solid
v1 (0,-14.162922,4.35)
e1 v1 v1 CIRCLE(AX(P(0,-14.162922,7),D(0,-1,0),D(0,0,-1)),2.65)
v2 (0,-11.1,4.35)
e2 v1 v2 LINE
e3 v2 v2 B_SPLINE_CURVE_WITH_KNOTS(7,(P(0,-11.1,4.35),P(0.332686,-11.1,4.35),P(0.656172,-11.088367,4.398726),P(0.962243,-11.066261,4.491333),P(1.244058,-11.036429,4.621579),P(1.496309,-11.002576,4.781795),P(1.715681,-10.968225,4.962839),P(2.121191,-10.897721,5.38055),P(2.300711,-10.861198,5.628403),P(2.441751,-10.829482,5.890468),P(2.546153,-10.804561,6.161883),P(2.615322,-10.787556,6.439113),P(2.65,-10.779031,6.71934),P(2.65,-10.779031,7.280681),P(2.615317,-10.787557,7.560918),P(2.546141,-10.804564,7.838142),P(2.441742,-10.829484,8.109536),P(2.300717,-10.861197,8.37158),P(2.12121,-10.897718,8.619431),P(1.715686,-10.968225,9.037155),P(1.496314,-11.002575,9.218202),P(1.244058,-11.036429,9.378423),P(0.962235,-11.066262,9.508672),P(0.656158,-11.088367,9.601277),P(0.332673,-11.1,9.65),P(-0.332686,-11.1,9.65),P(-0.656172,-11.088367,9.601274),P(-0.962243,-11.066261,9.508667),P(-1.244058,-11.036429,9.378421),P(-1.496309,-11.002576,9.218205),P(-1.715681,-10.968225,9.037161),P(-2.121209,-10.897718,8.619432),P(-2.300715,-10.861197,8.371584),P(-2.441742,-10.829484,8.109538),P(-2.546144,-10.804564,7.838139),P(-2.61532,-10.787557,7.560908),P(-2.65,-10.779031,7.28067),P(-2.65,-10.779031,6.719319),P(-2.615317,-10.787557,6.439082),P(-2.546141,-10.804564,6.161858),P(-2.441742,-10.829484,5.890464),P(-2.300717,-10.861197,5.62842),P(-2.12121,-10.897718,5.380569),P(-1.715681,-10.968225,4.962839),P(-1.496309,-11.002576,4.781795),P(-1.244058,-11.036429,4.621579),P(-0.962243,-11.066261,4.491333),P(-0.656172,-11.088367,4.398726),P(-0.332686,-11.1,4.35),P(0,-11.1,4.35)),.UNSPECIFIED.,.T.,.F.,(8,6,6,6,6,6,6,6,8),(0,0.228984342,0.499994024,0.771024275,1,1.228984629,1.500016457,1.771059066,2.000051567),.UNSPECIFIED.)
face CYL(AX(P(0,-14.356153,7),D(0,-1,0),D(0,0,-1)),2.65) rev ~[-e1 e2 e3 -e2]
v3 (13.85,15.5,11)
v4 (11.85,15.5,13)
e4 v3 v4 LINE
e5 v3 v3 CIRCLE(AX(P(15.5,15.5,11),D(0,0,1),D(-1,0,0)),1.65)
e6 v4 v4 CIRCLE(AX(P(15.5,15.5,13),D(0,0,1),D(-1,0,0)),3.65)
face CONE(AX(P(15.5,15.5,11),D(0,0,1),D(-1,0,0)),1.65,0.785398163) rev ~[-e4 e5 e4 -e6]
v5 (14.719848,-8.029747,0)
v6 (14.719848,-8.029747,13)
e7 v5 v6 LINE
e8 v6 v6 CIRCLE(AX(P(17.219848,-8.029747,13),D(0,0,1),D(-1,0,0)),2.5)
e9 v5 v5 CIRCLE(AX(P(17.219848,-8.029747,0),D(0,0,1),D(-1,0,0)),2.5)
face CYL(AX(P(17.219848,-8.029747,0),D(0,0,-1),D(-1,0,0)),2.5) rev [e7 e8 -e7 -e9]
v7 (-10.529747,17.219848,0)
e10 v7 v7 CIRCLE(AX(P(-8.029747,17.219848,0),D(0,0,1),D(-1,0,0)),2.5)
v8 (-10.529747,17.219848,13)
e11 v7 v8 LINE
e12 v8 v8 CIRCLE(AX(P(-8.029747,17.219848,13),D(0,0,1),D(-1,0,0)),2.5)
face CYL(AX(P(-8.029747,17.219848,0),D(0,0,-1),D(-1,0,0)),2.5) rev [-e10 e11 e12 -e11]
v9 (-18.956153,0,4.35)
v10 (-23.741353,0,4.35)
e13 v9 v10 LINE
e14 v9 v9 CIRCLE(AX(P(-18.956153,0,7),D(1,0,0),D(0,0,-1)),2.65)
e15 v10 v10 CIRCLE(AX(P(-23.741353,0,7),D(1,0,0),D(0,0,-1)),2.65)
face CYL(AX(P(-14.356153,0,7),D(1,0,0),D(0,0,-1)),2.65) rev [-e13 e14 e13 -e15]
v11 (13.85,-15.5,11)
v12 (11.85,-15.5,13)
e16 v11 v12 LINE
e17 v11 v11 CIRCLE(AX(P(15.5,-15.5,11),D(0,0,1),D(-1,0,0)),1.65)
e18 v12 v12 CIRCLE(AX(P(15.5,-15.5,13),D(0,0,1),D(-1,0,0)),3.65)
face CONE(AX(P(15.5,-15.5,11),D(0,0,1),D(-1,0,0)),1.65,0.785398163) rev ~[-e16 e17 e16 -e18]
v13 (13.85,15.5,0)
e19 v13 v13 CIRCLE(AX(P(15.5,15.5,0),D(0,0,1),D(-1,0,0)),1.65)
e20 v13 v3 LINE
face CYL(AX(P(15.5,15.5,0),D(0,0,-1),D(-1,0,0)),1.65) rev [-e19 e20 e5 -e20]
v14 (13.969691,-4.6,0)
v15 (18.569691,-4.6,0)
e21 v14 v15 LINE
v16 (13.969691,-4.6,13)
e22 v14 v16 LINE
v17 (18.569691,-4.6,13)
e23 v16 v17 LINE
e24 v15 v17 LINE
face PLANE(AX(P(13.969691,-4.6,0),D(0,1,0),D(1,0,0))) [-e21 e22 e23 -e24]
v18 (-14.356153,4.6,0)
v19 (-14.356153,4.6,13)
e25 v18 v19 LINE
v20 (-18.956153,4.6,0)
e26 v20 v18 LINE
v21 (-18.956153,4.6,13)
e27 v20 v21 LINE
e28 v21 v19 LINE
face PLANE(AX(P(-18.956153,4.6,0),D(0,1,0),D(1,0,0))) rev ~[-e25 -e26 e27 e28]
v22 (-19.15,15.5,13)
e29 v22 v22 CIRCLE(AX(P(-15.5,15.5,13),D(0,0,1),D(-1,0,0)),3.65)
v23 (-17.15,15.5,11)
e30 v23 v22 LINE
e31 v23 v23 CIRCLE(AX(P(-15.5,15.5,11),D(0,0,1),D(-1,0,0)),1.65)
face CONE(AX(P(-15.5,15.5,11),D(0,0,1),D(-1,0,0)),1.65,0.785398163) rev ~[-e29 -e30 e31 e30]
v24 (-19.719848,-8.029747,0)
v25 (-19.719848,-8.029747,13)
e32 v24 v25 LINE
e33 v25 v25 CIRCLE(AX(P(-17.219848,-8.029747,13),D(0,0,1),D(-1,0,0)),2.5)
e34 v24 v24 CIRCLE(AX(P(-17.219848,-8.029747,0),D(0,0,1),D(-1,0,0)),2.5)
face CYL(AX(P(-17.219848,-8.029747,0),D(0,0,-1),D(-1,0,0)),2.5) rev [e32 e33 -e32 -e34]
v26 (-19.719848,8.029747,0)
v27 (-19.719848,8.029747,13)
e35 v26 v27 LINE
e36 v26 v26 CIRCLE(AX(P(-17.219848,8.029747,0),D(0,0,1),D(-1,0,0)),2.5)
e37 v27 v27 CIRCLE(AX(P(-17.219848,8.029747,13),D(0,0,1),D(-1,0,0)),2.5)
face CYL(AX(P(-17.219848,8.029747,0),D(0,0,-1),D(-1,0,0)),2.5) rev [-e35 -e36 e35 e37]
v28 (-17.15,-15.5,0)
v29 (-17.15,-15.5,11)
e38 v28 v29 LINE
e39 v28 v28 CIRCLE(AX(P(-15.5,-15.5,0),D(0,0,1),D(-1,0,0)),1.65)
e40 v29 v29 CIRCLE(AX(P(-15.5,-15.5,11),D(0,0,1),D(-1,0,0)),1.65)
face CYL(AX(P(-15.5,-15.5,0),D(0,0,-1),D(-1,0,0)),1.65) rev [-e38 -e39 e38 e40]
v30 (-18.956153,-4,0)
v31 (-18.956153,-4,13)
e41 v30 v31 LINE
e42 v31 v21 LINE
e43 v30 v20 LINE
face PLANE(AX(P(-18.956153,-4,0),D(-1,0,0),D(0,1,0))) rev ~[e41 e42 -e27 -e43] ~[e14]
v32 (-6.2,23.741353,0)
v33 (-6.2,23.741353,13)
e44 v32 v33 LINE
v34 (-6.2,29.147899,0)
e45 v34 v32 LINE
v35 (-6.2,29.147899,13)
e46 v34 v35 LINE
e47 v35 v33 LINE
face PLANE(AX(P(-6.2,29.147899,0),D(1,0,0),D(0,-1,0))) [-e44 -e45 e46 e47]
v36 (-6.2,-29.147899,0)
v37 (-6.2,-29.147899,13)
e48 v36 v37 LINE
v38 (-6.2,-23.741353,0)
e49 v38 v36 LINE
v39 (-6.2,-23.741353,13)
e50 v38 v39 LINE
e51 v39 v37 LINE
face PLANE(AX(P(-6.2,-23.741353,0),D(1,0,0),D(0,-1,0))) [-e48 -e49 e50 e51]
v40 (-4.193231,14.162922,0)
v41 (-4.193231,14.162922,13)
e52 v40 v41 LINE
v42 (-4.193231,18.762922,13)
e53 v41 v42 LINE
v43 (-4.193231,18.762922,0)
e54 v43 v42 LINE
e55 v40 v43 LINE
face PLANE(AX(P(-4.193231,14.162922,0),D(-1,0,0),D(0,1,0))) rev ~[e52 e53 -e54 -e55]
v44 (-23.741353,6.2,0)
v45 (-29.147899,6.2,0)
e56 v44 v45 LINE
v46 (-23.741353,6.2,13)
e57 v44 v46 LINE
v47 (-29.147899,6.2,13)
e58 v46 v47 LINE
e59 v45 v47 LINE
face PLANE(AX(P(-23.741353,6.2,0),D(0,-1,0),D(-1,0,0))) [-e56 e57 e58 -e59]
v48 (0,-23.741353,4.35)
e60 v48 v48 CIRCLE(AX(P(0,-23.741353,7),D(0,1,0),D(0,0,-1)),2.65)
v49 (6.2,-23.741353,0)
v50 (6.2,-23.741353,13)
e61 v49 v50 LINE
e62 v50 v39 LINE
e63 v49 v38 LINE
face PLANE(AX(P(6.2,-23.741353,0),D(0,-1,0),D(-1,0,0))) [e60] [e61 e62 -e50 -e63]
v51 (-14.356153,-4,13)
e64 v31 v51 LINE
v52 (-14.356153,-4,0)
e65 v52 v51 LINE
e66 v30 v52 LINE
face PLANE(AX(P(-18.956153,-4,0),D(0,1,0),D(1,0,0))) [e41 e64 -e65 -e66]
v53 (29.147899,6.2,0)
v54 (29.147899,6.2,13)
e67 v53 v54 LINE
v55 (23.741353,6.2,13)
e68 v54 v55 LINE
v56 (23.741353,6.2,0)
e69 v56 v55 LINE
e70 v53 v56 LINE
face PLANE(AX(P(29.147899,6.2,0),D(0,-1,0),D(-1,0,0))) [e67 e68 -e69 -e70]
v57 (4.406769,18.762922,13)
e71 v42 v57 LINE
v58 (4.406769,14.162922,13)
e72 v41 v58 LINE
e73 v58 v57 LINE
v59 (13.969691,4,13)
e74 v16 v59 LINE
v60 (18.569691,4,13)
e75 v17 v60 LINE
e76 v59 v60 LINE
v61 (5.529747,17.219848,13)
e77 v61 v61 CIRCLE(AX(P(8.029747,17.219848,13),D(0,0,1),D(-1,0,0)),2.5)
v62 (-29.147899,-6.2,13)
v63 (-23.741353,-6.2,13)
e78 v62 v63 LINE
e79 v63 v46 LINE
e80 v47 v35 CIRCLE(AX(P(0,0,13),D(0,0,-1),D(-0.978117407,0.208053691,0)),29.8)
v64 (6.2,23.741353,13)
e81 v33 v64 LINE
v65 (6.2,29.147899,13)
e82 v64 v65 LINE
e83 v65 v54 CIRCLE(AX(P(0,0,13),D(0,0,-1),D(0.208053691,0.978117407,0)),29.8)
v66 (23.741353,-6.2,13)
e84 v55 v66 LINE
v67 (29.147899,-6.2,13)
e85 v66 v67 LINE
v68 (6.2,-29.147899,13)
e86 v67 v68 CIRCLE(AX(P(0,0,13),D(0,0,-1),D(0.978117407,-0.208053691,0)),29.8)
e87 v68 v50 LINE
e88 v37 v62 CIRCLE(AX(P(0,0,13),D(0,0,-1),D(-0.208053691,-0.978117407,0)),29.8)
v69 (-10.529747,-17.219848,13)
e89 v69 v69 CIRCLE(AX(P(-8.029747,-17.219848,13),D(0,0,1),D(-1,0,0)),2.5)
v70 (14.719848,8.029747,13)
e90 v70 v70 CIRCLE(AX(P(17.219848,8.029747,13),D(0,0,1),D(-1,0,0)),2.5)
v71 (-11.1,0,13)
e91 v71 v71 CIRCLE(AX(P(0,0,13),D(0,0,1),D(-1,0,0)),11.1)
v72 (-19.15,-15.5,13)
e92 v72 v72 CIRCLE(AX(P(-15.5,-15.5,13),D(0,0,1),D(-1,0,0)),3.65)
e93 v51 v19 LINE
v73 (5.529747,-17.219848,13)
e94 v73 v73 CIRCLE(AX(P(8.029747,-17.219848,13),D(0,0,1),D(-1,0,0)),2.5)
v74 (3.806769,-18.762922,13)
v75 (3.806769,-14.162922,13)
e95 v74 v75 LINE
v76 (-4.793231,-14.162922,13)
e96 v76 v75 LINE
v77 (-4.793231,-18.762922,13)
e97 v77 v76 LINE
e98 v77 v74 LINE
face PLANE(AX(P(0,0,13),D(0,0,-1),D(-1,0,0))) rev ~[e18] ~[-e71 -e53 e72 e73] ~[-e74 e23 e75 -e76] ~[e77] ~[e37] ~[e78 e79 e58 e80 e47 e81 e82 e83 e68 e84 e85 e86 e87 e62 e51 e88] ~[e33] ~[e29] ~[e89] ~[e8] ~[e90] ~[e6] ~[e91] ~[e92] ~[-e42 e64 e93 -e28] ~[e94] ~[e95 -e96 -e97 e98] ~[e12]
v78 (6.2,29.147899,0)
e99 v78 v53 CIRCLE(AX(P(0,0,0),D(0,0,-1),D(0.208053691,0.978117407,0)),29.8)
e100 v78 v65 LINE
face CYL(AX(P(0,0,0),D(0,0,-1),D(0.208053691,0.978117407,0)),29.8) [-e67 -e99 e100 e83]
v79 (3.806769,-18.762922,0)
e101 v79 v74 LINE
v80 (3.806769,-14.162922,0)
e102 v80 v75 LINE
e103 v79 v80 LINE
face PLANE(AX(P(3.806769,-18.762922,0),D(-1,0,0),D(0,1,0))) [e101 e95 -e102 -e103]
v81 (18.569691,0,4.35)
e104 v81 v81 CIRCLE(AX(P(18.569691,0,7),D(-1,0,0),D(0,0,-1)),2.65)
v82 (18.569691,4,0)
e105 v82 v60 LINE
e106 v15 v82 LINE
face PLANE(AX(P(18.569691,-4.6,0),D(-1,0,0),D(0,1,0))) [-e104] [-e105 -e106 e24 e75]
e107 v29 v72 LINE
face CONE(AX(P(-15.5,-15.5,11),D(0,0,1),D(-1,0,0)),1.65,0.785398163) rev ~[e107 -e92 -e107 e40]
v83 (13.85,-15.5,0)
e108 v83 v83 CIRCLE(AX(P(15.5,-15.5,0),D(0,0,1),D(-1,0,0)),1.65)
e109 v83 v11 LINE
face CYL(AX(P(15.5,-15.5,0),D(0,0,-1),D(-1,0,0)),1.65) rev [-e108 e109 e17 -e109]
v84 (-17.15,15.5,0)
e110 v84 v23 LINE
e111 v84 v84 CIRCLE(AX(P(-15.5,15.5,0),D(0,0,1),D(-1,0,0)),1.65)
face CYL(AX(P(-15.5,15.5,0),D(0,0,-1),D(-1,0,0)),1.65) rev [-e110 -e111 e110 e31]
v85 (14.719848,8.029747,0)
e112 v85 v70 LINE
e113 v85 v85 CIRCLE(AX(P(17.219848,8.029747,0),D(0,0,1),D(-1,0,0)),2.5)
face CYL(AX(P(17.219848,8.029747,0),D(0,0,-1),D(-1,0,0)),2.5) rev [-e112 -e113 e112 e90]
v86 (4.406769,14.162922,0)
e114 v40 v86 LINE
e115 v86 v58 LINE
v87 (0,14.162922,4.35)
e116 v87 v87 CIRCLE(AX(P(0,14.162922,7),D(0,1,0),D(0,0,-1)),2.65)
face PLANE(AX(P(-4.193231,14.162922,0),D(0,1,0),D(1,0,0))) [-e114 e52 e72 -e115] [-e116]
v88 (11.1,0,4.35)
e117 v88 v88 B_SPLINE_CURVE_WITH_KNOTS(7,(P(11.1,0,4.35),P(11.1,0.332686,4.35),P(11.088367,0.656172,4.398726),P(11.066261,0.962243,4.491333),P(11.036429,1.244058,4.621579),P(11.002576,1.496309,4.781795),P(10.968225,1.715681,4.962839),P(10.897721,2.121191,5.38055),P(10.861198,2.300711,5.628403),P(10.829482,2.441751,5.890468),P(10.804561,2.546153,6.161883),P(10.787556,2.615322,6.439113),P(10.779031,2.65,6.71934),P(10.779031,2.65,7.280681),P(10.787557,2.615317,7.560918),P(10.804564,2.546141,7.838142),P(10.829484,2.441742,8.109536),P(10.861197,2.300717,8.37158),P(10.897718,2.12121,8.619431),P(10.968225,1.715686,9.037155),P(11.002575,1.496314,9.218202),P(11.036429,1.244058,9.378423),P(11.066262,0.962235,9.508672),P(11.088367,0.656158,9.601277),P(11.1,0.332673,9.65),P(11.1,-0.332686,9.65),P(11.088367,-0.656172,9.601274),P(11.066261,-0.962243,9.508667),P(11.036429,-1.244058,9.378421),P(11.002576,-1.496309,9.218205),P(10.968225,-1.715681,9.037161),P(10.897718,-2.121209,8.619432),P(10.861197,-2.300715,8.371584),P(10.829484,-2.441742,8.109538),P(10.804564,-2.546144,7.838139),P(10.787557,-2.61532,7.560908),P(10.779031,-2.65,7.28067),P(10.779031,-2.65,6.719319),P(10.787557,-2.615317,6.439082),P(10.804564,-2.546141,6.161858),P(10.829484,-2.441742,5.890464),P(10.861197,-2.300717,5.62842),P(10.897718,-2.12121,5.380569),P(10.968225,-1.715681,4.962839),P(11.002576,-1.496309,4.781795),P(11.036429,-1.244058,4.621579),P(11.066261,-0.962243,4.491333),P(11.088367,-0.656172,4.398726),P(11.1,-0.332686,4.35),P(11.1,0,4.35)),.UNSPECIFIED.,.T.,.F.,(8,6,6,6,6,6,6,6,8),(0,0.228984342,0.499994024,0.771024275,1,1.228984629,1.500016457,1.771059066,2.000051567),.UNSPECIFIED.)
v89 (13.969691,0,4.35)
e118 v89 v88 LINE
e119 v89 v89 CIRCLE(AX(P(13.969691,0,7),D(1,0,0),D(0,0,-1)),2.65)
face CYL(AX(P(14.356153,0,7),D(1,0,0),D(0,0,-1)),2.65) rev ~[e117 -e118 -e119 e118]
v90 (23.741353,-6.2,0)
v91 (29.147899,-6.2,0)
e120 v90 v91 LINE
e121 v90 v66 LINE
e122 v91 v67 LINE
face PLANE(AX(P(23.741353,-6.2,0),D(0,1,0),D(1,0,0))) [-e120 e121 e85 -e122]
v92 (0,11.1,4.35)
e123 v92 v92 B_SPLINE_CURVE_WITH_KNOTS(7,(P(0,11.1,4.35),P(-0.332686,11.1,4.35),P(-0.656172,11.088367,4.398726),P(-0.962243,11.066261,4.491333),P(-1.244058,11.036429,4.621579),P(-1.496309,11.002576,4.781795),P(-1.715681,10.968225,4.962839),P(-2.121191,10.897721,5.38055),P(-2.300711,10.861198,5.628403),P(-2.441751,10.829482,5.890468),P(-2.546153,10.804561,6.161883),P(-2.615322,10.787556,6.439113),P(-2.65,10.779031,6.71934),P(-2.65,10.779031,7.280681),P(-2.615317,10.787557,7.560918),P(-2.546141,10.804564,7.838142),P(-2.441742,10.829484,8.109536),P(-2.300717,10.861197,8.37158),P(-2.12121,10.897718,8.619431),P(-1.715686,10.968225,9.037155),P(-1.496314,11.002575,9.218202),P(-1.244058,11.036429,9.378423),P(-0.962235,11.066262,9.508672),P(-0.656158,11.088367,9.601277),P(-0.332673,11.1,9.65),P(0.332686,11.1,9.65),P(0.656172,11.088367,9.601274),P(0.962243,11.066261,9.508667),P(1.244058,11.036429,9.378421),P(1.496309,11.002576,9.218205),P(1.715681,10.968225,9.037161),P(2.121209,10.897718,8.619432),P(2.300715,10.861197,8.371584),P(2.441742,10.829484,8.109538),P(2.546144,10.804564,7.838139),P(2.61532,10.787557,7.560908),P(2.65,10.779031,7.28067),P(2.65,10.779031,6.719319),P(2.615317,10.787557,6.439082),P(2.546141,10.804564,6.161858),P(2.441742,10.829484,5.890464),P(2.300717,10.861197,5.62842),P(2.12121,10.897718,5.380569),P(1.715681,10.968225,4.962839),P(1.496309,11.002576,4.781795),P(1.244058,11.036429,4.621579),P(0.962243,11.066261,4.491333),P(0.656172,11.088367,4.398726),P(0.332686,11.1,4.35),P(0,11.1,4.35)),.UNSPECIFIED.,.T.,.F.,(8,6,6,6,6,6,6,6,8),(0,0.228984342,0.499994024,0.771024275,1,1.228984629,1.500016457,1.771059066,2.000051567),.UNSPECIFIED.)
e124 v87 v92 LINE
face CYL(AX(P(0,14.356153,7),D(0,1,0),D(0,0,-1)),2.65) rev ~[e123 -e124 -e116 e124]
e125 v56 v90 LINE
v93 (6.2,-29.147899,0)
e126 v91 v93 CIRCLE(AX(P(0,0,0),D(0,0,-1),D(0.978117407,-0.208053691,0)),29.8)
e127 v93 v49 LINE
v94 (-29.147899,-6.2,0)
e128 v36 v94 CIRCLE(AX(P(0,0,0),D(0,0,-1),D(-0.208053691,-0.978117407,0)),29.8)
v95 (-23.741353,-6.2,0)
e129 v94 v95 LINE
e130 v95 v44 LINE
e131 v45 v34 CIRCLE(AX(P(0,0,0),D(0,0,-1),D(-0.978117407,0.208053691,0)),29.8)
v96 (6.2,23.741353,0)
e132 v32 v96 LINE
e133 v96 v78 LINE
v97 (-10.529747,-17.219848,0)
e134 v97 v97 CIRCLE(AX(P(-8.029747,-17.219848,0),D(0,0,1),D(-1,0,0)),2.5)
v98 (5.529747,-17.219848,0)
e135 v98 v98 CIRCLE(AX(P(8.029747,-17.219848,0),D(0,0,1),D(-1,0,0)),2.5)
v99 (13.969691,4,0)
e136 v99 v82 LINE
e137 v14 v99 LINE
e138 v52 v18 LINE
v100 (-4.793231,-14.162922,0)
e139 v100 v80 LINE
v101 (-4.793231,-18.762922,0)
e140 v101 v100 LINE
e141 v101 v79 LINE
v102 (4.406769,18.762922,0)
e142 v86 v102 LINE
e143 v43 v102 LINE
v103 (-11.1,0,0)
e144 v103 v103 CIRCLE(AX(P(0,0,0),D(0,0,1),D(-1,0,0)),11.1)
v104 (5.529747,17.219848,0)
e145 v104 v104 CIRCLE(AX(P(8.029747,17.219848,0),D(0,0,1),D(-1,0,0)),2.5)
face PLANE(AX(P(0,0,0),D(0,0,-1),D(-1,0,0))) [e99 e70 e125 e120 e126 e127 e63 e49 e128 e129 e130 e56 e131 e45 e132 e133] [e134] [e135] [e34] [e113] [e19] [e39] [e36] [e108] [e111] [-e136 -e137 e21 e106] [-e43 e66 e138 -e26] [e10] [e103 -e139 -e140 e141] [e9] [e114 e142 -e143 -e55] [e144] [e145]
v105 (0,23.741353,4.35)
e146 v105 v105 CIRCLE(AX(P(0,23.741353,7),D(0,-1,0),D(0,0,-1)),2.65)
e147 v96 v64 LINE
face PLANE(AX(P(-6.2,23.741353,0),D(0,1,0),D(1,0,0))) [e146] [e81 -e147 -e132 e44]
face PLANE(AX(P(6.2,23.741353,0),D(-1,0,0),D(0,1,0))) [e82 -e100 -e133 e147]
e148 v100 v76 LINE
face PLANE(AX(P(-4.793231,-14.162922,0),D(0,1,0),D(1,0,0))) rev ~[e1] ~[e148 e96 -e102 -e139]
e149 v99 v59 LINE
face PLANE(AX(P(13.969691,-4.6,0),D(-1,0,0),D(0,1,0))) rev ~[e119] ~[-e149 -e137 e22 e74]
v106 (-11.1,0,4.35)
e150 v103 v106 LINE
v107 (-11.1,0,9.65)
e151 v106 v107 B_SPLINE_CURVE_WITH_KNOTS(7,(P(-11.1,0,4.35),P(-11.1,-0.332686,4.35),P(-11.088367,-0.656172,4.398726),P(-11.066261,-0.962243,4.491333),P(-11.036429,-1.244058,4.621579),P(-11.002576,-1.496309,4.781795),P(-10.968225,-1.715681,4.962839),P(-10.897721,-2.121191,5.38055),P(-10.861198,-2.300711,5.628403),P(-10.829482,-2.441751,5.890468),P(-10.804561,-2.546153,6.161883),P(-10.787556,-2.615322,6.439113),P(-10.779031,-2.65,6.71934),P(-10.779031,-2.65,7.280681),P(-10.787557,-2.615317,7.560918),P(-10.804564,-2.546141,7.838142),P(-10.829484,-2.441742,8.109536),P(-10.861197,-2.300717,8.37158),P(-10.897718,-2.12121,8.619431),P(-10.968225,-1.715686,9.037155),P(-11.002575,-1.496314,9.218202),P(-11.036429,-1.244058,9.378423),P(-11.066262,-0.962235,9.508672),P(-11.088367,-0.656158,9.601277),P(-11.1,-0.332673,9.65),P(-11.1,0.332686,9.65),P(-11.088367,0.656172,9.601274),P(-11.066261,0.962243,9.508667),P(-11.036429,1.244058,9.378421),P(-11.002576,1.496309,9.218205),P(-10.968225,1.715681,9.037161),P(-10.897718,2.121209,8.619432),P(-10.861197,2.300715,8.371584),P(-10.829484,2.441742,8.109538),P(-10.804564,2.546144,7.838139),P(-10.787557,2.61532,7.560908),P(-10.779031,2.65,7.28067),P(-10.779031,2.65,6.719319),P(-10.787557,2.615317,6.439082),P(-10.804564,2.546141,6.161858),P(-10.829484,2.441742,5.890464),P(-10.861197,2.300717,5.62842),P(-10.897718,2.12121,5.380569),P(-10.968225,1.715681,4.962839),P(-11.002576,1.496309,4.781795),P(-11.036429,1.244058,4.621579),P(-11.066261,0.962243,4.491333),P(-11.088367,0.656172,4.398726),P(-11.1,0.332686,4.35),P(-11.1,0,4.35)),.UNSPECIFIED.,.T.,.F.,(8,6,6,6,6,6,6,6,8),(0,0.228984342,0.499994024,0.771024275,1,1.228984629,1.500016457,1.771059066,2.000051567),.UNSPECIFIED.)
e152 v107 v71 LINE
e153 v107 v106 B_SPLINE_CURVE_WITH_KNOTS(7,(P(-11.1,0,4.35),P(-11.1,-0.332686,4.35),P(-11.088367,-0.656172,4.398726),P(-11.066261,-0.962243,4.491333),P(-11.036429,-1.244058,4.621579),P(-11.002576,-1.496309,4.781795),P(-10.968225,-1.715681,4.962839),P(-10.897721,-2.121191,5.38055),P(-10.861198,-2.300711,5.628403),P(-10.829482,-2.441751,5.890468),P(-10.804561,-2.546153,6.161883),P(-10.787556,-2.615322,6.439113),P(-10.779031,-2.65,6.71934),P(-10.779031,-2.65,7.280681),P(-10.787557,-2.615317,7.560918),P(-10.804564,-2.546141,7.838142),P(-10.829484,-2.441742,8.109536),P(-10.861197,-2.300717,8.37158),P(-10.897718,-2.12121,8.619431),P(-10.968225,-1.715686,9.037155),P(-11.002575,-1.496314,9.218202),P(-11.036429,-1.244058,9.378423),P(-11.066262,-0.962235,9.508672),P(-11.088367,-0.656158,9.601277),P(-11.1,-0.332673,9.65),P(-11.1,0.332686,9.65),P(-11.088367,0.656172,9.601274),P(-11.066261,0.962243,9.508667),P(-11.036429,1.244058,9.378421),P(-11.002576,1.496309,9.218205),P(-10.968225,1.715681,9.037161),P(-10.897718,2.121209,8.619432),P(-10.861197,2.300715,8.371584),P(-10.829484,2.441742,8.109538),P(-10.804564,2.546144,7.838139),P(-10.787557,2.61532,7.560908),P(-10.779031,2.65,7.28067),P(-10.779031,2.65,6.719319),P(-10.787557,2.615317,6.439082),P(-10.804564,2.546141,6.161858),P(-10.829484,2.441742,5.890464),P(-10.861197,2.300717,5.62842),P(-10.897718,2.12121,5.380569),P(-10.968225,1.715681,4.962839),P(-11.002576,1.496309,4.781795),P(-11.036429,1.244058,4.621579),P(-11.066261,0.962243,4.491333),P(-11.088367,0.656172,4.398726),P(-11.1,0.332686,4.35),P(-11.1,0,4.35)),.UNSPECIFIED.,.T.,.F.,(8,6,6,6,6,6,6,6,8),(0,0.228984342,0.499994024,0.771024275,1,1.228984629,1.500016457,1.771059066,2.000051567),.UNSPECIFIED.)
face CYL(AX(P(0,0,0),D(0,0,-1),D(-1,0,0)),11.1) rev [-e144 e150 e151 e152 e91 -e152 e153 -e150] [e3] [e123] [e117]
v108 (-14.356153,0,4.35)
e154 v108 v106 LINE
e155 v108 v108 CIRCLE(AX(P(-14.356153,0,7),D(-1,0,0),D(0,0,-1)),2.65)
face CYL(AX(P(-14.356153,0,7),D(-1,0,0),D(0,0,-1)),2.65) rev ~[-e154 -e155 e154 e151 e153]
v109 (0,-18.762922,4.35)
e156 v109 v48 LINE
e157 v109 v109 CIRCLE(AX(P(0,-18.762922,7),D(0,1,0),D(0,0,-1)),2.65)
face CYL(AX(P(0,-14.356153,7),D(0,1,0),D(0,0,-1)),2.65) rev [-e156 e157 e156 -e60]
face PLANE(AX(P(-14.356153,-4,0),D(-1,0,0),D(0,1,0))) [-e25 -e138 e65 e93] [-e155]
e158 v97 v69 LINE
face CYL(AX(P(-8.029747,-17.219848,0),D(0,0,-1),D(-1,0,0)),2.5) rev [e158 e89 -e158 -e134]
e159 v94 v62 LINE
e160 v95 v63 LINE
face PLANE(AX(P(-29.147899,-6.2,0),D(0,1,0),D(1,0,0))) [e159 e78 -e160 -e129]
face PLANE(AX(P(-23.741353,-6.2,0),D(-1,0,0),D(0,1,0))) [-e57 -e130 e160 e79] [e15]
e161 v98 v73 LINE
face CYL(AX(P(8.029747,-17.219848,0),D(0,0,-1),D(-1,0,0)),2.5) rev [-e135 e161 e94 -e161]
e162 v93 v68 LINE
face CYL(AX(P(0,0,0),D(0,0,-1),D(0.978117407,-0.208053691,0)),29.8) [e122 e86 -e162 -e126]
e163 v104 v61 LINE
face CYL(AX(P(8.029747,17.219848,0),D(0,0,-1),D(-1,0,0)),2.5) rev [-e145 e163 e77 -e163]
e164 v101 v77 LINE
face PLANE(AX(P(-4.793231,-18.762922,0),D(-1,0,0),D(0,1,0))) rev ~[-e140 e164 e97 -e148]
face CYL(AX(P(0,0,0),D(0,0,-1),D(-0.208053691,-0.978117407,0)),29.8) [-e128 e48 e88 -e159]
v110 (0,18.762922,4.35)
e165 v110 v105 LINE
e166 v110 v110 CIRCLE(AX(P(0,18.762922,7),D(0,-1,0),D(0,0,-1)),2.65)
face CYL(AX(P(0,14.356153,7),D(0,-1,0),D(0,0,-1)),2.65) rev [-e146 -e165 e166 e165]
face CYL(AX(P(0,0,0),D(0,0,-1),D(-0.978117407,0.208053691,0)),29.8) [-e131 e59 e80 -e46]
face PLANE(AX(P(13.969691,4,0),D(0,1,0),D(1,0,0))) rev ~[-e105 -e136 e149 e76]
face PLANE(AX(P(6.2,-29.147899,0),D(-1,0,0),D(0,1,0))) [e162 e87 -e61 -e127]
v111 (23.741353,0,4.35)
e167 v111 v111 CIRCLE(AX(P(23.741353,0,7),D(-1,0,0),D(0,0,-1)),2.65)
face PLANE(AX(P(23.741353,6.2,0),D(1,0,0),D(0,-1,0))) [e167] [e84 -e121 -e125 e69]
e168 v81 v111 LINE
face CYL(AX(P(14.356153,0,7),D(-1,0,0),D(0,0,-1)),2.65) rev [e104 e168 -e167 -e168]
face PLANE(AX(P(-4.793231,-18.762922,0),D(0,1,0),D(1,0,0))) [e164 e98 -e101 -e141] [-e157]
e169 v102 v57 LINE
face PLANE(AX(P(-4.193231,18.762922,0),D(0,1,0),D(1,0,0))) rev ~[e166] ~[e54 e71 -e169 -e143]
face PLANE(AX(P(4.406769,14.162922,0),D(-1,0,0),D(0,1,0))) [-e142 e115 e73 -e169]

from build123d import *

# Parameters (mm, degrees)
ESQUISSE1_R                         = 11.1
ESQUISSE1_R_2                       = 1.65
ESQUISSE1_R_3                       = 2.5
ESQUISSE1_W                         = 4.6
ESQUISSE1_H                         = 8.6
ESQUISSE1_W_2                       = 8.6
ESQUISSE1_H_2                       = 4.6
BOSS_EXTRU_1_DEPTH                  = 13
CHANFREIN1_SIZE                     = 2
ENL_V_MAT_EXTRU_1_REACH             = 55.956
ESQUISSE2_R                         = 2.65
ENL_V_MAT_EXTRU_1_DIRECTION_2_DEPTH = 54.955560846
R_P_TITION_CIRCULAIRE1_COUNT        = 4


with BuildPart() as part:
    # Esquisse1 → Boss.-Extru.1 (new body)
    with BuildSketch(Plane.XY):
        with BuildLine():
            Line((-23.741352507, -6.2), (-23.741352507, 6.2))
            Line((-23.741352507, 6.2), (-29.147898724, 6.2))
            ThreePointArc((-29.147898724, 6.2), (-21.071782079, 21.071782079), (-6.2, 29.147898724))
            Line((-6.2, 29.147898724), (-6.2, 23.741352507))
            Line((-6.2, 23.741352507), (6.2, 23.741352507))
            Line((6.2, 23.741352507), (6.2, 29.147898724))
            ThreePointArc((6.2, 29.147898724), (21.071782079, 21.071782079), (29.147898724, 6.2))
            Line((29.147898724, 6.2), (23.741352507, 6.2))
            Line((23.741352507, 6.2), (23.741352507, -6.2))
            Line((23.741352507, -6.2), (29.147898724, -6.2))
            ThreePointArc((29.147898724, -6.2), (21.071782079, -21.071782079), (6.2, -29.147898724))
            Line((6.2, -29.147898724), (6.2, -23.741352507))
            Line((6.2, -23.741352507), (-6.2, -23.741352507))
            Line((-6.2, -23.741352507), (-6.2, -29.147898724))
            ThreePointArc((-6.2, -29.147898724), (-21.071782079, -21.071782079), (-29.147898724, -6.2))
            Line((-29.147898724, -6.2), (-23.741352507, -6.2))
        make_face()
        with Locations(Location((0, 0, 0), (0, 0, 180))):
            Circle(ESQUISSE1_R, mode=Mode.SUBTRACT)
        with Locations(Location((-15.5, 15.5, 0), (0, 0, 180))):
            Circle(ESQUISSE1_R_2, mode=Mode.SUBTRACT)
        with Locations(Location((15.5, 15.5, 0), (0, 0, 180))):
            Circle(ESQUISSE1_R_2, mode=Mode.SUBTRACT)
        with Locations(Location((15.5, -15.5, 0), (0, 0, 180))):
            Circle(ESQUISSE1_R_2, mode=Mode.SUBTRACT)
        with Locations(Location((-15.5, -15.5, 0), (0, 0, 180))):
            Circle(ESQUISSE1_R_2, mode=Mode.SUBTRACT)
        with Locations(Location((-8.029746973, 17.219847954, 0), (0, 0, 180))):
            Circle(ESQUISSE1_R_3, mode=Mode.SUBTRACT)
        with Locations(Location((8.029746973, 17.219847954, 0), (0, 0, 180))):
            Circle(ESQUISSE1_R_3, mode=Mode.SUBTRACT)
        with Locations(Location((17.219847954, 8.029746973, 0), (0, 0, 180))):
            Circle(ESQUISSE1_R_3, mode=Mode.SUBTRACT)
        with Locations(Location((17.219847954, -8.029746973, 0), (0, 0, 180))):
            Circle(ESQUISSE1_R_3, mode=Mode.SUBTRACT)
        with Locations(Location((8.029746973, -17.219847954, 0), (0, 0, 180))):
            Circle(ESQUISSE1_R_3, mode=Mode.SUBTRACT)
        with Locations(Location((-8.029746973, -17.219847954, 0), (0, 0, 180))):
            Circle(ESQUISSE1_R_3, mode=Mode.SUBTRACT)
        with Locations(Location((-17.219847954, -8.029746973, 0), (0, 0, 180))):
            Circle(ESQUISSE1_R_3, mode=Mode.SUBTRACT)
        with Locations(Location((-17.219847954, 8.029746973, 0), (0, 0, 180))):
            Circle(ESQUISSE1_R_3, mode=Mode.SUBTRACT)
        with Locations((-16.656153343, 0.3)):
            Rectangle(ESQUISSE1_W, ESQUISSE1_H, mode=Mode.SUBTRACT)
        with Locations((0.106768766, 16.462922109)):
            Rectangle(ESQUISSE1_W_2, ESQUISSE1_H_2, mode=Mode.SUBTRACT)
        with Locations((16.269690876, -0.3)):
            Rectangle(ESQUISSE1_W, ESQUISSE1_H, mode=Mode.SUBTRACT)
        with Locations((-0.493231234, -16.462922109)):
            Rectangle(ESQUISSE1_W_2, ESQUISSE1_H_2, mode=Mode.SUBTRACT)
    extrude(amount=BOSS_EXTRU_1_DEPTH)

    # Chanfrein1
    chanfrein1_edges = [part.edges().sort_by_distance(p)[0] for p in [
        (-13.85, 15.5, 13),
        (17.15, 15.5, 13),
        (17.15, -15.5, 13),
        (-13.85, -15.5, 13),
    ]]
    chamfer(chanfrein1_edges, length=CHANFREIN1_SIZE)

    # Esquisse2 → Enlèv. mat.-Extru.1 (cut, up to next)
    with BuildSketch(Plane.ZY.offset(14.356153343), mode=Mode.PRIVATE) as enl_v_mat_extru_1_sk1:
        with Locations(Location((7, 0, 0), (0, 0, 180))):
            Circle(ESQUISSE2_R)
    enl_v_mat_extru_1_tool1 = extrude(enl_v_mat_extru_1_sk1.sketch, amount=-ENL_V_MAT_EXTRU_1_REACH, mode=Mode.PRIVATE) & part.part
    enl_v_mat_extru_1 = enl_v_mat_extru_1_tool1.solids().sort_by_distance((-14.356153, 0, 7))[0]
    add(enl_v_mat_extru_1, mode=Mode.SUBTRACT)

    # Esquisse2 → Enlèv. mat.-Extru.1 direction 2 (cut)
    with BuildSketch(Plane.ZY.offset(14.356153343)):
        with Locations(Location((7, 0, 0), (0, 0, 180))):
            Circle(ESQUISSE2_R)
    enl_v_mat_extru_1_direction_2 = extrude(amount=ENL_V_MAT_EXTRU_1_DIRECTION_2_DEPTH, mode=Mode.SUBTRACT)

    # Répétition circulaire1: Enlèv. mat.-Extru.1, Enlèv. mat.-Extru.1 direction 2 ×4 about axis
    r_p_tition_circulaire1_axis = Axis((0, 0, 0), (0, 0, -1))
    add([enl_v_mat_extru_1.rotate(r_p_tition_circulaire1_axis, i * 360 / R_P_TITION_CIRCULAIRE1_COUNT) for i in range(1, R_P_TITION_CIRCULAIRE1_COUNT)], mode=Mode.SUBTRACT)
    add([enl_v_mat_extru_1_direction_2.rotate(r_p_tition_circulaire1_axis, i * 360 / R_P_TITION_CIRCULAIRE1_COUNT) for i in range(1, R_P_TITION_CIRCULAIRE1_COUNT)], mode=Mode.SUBTRACT)


solid = part.part
